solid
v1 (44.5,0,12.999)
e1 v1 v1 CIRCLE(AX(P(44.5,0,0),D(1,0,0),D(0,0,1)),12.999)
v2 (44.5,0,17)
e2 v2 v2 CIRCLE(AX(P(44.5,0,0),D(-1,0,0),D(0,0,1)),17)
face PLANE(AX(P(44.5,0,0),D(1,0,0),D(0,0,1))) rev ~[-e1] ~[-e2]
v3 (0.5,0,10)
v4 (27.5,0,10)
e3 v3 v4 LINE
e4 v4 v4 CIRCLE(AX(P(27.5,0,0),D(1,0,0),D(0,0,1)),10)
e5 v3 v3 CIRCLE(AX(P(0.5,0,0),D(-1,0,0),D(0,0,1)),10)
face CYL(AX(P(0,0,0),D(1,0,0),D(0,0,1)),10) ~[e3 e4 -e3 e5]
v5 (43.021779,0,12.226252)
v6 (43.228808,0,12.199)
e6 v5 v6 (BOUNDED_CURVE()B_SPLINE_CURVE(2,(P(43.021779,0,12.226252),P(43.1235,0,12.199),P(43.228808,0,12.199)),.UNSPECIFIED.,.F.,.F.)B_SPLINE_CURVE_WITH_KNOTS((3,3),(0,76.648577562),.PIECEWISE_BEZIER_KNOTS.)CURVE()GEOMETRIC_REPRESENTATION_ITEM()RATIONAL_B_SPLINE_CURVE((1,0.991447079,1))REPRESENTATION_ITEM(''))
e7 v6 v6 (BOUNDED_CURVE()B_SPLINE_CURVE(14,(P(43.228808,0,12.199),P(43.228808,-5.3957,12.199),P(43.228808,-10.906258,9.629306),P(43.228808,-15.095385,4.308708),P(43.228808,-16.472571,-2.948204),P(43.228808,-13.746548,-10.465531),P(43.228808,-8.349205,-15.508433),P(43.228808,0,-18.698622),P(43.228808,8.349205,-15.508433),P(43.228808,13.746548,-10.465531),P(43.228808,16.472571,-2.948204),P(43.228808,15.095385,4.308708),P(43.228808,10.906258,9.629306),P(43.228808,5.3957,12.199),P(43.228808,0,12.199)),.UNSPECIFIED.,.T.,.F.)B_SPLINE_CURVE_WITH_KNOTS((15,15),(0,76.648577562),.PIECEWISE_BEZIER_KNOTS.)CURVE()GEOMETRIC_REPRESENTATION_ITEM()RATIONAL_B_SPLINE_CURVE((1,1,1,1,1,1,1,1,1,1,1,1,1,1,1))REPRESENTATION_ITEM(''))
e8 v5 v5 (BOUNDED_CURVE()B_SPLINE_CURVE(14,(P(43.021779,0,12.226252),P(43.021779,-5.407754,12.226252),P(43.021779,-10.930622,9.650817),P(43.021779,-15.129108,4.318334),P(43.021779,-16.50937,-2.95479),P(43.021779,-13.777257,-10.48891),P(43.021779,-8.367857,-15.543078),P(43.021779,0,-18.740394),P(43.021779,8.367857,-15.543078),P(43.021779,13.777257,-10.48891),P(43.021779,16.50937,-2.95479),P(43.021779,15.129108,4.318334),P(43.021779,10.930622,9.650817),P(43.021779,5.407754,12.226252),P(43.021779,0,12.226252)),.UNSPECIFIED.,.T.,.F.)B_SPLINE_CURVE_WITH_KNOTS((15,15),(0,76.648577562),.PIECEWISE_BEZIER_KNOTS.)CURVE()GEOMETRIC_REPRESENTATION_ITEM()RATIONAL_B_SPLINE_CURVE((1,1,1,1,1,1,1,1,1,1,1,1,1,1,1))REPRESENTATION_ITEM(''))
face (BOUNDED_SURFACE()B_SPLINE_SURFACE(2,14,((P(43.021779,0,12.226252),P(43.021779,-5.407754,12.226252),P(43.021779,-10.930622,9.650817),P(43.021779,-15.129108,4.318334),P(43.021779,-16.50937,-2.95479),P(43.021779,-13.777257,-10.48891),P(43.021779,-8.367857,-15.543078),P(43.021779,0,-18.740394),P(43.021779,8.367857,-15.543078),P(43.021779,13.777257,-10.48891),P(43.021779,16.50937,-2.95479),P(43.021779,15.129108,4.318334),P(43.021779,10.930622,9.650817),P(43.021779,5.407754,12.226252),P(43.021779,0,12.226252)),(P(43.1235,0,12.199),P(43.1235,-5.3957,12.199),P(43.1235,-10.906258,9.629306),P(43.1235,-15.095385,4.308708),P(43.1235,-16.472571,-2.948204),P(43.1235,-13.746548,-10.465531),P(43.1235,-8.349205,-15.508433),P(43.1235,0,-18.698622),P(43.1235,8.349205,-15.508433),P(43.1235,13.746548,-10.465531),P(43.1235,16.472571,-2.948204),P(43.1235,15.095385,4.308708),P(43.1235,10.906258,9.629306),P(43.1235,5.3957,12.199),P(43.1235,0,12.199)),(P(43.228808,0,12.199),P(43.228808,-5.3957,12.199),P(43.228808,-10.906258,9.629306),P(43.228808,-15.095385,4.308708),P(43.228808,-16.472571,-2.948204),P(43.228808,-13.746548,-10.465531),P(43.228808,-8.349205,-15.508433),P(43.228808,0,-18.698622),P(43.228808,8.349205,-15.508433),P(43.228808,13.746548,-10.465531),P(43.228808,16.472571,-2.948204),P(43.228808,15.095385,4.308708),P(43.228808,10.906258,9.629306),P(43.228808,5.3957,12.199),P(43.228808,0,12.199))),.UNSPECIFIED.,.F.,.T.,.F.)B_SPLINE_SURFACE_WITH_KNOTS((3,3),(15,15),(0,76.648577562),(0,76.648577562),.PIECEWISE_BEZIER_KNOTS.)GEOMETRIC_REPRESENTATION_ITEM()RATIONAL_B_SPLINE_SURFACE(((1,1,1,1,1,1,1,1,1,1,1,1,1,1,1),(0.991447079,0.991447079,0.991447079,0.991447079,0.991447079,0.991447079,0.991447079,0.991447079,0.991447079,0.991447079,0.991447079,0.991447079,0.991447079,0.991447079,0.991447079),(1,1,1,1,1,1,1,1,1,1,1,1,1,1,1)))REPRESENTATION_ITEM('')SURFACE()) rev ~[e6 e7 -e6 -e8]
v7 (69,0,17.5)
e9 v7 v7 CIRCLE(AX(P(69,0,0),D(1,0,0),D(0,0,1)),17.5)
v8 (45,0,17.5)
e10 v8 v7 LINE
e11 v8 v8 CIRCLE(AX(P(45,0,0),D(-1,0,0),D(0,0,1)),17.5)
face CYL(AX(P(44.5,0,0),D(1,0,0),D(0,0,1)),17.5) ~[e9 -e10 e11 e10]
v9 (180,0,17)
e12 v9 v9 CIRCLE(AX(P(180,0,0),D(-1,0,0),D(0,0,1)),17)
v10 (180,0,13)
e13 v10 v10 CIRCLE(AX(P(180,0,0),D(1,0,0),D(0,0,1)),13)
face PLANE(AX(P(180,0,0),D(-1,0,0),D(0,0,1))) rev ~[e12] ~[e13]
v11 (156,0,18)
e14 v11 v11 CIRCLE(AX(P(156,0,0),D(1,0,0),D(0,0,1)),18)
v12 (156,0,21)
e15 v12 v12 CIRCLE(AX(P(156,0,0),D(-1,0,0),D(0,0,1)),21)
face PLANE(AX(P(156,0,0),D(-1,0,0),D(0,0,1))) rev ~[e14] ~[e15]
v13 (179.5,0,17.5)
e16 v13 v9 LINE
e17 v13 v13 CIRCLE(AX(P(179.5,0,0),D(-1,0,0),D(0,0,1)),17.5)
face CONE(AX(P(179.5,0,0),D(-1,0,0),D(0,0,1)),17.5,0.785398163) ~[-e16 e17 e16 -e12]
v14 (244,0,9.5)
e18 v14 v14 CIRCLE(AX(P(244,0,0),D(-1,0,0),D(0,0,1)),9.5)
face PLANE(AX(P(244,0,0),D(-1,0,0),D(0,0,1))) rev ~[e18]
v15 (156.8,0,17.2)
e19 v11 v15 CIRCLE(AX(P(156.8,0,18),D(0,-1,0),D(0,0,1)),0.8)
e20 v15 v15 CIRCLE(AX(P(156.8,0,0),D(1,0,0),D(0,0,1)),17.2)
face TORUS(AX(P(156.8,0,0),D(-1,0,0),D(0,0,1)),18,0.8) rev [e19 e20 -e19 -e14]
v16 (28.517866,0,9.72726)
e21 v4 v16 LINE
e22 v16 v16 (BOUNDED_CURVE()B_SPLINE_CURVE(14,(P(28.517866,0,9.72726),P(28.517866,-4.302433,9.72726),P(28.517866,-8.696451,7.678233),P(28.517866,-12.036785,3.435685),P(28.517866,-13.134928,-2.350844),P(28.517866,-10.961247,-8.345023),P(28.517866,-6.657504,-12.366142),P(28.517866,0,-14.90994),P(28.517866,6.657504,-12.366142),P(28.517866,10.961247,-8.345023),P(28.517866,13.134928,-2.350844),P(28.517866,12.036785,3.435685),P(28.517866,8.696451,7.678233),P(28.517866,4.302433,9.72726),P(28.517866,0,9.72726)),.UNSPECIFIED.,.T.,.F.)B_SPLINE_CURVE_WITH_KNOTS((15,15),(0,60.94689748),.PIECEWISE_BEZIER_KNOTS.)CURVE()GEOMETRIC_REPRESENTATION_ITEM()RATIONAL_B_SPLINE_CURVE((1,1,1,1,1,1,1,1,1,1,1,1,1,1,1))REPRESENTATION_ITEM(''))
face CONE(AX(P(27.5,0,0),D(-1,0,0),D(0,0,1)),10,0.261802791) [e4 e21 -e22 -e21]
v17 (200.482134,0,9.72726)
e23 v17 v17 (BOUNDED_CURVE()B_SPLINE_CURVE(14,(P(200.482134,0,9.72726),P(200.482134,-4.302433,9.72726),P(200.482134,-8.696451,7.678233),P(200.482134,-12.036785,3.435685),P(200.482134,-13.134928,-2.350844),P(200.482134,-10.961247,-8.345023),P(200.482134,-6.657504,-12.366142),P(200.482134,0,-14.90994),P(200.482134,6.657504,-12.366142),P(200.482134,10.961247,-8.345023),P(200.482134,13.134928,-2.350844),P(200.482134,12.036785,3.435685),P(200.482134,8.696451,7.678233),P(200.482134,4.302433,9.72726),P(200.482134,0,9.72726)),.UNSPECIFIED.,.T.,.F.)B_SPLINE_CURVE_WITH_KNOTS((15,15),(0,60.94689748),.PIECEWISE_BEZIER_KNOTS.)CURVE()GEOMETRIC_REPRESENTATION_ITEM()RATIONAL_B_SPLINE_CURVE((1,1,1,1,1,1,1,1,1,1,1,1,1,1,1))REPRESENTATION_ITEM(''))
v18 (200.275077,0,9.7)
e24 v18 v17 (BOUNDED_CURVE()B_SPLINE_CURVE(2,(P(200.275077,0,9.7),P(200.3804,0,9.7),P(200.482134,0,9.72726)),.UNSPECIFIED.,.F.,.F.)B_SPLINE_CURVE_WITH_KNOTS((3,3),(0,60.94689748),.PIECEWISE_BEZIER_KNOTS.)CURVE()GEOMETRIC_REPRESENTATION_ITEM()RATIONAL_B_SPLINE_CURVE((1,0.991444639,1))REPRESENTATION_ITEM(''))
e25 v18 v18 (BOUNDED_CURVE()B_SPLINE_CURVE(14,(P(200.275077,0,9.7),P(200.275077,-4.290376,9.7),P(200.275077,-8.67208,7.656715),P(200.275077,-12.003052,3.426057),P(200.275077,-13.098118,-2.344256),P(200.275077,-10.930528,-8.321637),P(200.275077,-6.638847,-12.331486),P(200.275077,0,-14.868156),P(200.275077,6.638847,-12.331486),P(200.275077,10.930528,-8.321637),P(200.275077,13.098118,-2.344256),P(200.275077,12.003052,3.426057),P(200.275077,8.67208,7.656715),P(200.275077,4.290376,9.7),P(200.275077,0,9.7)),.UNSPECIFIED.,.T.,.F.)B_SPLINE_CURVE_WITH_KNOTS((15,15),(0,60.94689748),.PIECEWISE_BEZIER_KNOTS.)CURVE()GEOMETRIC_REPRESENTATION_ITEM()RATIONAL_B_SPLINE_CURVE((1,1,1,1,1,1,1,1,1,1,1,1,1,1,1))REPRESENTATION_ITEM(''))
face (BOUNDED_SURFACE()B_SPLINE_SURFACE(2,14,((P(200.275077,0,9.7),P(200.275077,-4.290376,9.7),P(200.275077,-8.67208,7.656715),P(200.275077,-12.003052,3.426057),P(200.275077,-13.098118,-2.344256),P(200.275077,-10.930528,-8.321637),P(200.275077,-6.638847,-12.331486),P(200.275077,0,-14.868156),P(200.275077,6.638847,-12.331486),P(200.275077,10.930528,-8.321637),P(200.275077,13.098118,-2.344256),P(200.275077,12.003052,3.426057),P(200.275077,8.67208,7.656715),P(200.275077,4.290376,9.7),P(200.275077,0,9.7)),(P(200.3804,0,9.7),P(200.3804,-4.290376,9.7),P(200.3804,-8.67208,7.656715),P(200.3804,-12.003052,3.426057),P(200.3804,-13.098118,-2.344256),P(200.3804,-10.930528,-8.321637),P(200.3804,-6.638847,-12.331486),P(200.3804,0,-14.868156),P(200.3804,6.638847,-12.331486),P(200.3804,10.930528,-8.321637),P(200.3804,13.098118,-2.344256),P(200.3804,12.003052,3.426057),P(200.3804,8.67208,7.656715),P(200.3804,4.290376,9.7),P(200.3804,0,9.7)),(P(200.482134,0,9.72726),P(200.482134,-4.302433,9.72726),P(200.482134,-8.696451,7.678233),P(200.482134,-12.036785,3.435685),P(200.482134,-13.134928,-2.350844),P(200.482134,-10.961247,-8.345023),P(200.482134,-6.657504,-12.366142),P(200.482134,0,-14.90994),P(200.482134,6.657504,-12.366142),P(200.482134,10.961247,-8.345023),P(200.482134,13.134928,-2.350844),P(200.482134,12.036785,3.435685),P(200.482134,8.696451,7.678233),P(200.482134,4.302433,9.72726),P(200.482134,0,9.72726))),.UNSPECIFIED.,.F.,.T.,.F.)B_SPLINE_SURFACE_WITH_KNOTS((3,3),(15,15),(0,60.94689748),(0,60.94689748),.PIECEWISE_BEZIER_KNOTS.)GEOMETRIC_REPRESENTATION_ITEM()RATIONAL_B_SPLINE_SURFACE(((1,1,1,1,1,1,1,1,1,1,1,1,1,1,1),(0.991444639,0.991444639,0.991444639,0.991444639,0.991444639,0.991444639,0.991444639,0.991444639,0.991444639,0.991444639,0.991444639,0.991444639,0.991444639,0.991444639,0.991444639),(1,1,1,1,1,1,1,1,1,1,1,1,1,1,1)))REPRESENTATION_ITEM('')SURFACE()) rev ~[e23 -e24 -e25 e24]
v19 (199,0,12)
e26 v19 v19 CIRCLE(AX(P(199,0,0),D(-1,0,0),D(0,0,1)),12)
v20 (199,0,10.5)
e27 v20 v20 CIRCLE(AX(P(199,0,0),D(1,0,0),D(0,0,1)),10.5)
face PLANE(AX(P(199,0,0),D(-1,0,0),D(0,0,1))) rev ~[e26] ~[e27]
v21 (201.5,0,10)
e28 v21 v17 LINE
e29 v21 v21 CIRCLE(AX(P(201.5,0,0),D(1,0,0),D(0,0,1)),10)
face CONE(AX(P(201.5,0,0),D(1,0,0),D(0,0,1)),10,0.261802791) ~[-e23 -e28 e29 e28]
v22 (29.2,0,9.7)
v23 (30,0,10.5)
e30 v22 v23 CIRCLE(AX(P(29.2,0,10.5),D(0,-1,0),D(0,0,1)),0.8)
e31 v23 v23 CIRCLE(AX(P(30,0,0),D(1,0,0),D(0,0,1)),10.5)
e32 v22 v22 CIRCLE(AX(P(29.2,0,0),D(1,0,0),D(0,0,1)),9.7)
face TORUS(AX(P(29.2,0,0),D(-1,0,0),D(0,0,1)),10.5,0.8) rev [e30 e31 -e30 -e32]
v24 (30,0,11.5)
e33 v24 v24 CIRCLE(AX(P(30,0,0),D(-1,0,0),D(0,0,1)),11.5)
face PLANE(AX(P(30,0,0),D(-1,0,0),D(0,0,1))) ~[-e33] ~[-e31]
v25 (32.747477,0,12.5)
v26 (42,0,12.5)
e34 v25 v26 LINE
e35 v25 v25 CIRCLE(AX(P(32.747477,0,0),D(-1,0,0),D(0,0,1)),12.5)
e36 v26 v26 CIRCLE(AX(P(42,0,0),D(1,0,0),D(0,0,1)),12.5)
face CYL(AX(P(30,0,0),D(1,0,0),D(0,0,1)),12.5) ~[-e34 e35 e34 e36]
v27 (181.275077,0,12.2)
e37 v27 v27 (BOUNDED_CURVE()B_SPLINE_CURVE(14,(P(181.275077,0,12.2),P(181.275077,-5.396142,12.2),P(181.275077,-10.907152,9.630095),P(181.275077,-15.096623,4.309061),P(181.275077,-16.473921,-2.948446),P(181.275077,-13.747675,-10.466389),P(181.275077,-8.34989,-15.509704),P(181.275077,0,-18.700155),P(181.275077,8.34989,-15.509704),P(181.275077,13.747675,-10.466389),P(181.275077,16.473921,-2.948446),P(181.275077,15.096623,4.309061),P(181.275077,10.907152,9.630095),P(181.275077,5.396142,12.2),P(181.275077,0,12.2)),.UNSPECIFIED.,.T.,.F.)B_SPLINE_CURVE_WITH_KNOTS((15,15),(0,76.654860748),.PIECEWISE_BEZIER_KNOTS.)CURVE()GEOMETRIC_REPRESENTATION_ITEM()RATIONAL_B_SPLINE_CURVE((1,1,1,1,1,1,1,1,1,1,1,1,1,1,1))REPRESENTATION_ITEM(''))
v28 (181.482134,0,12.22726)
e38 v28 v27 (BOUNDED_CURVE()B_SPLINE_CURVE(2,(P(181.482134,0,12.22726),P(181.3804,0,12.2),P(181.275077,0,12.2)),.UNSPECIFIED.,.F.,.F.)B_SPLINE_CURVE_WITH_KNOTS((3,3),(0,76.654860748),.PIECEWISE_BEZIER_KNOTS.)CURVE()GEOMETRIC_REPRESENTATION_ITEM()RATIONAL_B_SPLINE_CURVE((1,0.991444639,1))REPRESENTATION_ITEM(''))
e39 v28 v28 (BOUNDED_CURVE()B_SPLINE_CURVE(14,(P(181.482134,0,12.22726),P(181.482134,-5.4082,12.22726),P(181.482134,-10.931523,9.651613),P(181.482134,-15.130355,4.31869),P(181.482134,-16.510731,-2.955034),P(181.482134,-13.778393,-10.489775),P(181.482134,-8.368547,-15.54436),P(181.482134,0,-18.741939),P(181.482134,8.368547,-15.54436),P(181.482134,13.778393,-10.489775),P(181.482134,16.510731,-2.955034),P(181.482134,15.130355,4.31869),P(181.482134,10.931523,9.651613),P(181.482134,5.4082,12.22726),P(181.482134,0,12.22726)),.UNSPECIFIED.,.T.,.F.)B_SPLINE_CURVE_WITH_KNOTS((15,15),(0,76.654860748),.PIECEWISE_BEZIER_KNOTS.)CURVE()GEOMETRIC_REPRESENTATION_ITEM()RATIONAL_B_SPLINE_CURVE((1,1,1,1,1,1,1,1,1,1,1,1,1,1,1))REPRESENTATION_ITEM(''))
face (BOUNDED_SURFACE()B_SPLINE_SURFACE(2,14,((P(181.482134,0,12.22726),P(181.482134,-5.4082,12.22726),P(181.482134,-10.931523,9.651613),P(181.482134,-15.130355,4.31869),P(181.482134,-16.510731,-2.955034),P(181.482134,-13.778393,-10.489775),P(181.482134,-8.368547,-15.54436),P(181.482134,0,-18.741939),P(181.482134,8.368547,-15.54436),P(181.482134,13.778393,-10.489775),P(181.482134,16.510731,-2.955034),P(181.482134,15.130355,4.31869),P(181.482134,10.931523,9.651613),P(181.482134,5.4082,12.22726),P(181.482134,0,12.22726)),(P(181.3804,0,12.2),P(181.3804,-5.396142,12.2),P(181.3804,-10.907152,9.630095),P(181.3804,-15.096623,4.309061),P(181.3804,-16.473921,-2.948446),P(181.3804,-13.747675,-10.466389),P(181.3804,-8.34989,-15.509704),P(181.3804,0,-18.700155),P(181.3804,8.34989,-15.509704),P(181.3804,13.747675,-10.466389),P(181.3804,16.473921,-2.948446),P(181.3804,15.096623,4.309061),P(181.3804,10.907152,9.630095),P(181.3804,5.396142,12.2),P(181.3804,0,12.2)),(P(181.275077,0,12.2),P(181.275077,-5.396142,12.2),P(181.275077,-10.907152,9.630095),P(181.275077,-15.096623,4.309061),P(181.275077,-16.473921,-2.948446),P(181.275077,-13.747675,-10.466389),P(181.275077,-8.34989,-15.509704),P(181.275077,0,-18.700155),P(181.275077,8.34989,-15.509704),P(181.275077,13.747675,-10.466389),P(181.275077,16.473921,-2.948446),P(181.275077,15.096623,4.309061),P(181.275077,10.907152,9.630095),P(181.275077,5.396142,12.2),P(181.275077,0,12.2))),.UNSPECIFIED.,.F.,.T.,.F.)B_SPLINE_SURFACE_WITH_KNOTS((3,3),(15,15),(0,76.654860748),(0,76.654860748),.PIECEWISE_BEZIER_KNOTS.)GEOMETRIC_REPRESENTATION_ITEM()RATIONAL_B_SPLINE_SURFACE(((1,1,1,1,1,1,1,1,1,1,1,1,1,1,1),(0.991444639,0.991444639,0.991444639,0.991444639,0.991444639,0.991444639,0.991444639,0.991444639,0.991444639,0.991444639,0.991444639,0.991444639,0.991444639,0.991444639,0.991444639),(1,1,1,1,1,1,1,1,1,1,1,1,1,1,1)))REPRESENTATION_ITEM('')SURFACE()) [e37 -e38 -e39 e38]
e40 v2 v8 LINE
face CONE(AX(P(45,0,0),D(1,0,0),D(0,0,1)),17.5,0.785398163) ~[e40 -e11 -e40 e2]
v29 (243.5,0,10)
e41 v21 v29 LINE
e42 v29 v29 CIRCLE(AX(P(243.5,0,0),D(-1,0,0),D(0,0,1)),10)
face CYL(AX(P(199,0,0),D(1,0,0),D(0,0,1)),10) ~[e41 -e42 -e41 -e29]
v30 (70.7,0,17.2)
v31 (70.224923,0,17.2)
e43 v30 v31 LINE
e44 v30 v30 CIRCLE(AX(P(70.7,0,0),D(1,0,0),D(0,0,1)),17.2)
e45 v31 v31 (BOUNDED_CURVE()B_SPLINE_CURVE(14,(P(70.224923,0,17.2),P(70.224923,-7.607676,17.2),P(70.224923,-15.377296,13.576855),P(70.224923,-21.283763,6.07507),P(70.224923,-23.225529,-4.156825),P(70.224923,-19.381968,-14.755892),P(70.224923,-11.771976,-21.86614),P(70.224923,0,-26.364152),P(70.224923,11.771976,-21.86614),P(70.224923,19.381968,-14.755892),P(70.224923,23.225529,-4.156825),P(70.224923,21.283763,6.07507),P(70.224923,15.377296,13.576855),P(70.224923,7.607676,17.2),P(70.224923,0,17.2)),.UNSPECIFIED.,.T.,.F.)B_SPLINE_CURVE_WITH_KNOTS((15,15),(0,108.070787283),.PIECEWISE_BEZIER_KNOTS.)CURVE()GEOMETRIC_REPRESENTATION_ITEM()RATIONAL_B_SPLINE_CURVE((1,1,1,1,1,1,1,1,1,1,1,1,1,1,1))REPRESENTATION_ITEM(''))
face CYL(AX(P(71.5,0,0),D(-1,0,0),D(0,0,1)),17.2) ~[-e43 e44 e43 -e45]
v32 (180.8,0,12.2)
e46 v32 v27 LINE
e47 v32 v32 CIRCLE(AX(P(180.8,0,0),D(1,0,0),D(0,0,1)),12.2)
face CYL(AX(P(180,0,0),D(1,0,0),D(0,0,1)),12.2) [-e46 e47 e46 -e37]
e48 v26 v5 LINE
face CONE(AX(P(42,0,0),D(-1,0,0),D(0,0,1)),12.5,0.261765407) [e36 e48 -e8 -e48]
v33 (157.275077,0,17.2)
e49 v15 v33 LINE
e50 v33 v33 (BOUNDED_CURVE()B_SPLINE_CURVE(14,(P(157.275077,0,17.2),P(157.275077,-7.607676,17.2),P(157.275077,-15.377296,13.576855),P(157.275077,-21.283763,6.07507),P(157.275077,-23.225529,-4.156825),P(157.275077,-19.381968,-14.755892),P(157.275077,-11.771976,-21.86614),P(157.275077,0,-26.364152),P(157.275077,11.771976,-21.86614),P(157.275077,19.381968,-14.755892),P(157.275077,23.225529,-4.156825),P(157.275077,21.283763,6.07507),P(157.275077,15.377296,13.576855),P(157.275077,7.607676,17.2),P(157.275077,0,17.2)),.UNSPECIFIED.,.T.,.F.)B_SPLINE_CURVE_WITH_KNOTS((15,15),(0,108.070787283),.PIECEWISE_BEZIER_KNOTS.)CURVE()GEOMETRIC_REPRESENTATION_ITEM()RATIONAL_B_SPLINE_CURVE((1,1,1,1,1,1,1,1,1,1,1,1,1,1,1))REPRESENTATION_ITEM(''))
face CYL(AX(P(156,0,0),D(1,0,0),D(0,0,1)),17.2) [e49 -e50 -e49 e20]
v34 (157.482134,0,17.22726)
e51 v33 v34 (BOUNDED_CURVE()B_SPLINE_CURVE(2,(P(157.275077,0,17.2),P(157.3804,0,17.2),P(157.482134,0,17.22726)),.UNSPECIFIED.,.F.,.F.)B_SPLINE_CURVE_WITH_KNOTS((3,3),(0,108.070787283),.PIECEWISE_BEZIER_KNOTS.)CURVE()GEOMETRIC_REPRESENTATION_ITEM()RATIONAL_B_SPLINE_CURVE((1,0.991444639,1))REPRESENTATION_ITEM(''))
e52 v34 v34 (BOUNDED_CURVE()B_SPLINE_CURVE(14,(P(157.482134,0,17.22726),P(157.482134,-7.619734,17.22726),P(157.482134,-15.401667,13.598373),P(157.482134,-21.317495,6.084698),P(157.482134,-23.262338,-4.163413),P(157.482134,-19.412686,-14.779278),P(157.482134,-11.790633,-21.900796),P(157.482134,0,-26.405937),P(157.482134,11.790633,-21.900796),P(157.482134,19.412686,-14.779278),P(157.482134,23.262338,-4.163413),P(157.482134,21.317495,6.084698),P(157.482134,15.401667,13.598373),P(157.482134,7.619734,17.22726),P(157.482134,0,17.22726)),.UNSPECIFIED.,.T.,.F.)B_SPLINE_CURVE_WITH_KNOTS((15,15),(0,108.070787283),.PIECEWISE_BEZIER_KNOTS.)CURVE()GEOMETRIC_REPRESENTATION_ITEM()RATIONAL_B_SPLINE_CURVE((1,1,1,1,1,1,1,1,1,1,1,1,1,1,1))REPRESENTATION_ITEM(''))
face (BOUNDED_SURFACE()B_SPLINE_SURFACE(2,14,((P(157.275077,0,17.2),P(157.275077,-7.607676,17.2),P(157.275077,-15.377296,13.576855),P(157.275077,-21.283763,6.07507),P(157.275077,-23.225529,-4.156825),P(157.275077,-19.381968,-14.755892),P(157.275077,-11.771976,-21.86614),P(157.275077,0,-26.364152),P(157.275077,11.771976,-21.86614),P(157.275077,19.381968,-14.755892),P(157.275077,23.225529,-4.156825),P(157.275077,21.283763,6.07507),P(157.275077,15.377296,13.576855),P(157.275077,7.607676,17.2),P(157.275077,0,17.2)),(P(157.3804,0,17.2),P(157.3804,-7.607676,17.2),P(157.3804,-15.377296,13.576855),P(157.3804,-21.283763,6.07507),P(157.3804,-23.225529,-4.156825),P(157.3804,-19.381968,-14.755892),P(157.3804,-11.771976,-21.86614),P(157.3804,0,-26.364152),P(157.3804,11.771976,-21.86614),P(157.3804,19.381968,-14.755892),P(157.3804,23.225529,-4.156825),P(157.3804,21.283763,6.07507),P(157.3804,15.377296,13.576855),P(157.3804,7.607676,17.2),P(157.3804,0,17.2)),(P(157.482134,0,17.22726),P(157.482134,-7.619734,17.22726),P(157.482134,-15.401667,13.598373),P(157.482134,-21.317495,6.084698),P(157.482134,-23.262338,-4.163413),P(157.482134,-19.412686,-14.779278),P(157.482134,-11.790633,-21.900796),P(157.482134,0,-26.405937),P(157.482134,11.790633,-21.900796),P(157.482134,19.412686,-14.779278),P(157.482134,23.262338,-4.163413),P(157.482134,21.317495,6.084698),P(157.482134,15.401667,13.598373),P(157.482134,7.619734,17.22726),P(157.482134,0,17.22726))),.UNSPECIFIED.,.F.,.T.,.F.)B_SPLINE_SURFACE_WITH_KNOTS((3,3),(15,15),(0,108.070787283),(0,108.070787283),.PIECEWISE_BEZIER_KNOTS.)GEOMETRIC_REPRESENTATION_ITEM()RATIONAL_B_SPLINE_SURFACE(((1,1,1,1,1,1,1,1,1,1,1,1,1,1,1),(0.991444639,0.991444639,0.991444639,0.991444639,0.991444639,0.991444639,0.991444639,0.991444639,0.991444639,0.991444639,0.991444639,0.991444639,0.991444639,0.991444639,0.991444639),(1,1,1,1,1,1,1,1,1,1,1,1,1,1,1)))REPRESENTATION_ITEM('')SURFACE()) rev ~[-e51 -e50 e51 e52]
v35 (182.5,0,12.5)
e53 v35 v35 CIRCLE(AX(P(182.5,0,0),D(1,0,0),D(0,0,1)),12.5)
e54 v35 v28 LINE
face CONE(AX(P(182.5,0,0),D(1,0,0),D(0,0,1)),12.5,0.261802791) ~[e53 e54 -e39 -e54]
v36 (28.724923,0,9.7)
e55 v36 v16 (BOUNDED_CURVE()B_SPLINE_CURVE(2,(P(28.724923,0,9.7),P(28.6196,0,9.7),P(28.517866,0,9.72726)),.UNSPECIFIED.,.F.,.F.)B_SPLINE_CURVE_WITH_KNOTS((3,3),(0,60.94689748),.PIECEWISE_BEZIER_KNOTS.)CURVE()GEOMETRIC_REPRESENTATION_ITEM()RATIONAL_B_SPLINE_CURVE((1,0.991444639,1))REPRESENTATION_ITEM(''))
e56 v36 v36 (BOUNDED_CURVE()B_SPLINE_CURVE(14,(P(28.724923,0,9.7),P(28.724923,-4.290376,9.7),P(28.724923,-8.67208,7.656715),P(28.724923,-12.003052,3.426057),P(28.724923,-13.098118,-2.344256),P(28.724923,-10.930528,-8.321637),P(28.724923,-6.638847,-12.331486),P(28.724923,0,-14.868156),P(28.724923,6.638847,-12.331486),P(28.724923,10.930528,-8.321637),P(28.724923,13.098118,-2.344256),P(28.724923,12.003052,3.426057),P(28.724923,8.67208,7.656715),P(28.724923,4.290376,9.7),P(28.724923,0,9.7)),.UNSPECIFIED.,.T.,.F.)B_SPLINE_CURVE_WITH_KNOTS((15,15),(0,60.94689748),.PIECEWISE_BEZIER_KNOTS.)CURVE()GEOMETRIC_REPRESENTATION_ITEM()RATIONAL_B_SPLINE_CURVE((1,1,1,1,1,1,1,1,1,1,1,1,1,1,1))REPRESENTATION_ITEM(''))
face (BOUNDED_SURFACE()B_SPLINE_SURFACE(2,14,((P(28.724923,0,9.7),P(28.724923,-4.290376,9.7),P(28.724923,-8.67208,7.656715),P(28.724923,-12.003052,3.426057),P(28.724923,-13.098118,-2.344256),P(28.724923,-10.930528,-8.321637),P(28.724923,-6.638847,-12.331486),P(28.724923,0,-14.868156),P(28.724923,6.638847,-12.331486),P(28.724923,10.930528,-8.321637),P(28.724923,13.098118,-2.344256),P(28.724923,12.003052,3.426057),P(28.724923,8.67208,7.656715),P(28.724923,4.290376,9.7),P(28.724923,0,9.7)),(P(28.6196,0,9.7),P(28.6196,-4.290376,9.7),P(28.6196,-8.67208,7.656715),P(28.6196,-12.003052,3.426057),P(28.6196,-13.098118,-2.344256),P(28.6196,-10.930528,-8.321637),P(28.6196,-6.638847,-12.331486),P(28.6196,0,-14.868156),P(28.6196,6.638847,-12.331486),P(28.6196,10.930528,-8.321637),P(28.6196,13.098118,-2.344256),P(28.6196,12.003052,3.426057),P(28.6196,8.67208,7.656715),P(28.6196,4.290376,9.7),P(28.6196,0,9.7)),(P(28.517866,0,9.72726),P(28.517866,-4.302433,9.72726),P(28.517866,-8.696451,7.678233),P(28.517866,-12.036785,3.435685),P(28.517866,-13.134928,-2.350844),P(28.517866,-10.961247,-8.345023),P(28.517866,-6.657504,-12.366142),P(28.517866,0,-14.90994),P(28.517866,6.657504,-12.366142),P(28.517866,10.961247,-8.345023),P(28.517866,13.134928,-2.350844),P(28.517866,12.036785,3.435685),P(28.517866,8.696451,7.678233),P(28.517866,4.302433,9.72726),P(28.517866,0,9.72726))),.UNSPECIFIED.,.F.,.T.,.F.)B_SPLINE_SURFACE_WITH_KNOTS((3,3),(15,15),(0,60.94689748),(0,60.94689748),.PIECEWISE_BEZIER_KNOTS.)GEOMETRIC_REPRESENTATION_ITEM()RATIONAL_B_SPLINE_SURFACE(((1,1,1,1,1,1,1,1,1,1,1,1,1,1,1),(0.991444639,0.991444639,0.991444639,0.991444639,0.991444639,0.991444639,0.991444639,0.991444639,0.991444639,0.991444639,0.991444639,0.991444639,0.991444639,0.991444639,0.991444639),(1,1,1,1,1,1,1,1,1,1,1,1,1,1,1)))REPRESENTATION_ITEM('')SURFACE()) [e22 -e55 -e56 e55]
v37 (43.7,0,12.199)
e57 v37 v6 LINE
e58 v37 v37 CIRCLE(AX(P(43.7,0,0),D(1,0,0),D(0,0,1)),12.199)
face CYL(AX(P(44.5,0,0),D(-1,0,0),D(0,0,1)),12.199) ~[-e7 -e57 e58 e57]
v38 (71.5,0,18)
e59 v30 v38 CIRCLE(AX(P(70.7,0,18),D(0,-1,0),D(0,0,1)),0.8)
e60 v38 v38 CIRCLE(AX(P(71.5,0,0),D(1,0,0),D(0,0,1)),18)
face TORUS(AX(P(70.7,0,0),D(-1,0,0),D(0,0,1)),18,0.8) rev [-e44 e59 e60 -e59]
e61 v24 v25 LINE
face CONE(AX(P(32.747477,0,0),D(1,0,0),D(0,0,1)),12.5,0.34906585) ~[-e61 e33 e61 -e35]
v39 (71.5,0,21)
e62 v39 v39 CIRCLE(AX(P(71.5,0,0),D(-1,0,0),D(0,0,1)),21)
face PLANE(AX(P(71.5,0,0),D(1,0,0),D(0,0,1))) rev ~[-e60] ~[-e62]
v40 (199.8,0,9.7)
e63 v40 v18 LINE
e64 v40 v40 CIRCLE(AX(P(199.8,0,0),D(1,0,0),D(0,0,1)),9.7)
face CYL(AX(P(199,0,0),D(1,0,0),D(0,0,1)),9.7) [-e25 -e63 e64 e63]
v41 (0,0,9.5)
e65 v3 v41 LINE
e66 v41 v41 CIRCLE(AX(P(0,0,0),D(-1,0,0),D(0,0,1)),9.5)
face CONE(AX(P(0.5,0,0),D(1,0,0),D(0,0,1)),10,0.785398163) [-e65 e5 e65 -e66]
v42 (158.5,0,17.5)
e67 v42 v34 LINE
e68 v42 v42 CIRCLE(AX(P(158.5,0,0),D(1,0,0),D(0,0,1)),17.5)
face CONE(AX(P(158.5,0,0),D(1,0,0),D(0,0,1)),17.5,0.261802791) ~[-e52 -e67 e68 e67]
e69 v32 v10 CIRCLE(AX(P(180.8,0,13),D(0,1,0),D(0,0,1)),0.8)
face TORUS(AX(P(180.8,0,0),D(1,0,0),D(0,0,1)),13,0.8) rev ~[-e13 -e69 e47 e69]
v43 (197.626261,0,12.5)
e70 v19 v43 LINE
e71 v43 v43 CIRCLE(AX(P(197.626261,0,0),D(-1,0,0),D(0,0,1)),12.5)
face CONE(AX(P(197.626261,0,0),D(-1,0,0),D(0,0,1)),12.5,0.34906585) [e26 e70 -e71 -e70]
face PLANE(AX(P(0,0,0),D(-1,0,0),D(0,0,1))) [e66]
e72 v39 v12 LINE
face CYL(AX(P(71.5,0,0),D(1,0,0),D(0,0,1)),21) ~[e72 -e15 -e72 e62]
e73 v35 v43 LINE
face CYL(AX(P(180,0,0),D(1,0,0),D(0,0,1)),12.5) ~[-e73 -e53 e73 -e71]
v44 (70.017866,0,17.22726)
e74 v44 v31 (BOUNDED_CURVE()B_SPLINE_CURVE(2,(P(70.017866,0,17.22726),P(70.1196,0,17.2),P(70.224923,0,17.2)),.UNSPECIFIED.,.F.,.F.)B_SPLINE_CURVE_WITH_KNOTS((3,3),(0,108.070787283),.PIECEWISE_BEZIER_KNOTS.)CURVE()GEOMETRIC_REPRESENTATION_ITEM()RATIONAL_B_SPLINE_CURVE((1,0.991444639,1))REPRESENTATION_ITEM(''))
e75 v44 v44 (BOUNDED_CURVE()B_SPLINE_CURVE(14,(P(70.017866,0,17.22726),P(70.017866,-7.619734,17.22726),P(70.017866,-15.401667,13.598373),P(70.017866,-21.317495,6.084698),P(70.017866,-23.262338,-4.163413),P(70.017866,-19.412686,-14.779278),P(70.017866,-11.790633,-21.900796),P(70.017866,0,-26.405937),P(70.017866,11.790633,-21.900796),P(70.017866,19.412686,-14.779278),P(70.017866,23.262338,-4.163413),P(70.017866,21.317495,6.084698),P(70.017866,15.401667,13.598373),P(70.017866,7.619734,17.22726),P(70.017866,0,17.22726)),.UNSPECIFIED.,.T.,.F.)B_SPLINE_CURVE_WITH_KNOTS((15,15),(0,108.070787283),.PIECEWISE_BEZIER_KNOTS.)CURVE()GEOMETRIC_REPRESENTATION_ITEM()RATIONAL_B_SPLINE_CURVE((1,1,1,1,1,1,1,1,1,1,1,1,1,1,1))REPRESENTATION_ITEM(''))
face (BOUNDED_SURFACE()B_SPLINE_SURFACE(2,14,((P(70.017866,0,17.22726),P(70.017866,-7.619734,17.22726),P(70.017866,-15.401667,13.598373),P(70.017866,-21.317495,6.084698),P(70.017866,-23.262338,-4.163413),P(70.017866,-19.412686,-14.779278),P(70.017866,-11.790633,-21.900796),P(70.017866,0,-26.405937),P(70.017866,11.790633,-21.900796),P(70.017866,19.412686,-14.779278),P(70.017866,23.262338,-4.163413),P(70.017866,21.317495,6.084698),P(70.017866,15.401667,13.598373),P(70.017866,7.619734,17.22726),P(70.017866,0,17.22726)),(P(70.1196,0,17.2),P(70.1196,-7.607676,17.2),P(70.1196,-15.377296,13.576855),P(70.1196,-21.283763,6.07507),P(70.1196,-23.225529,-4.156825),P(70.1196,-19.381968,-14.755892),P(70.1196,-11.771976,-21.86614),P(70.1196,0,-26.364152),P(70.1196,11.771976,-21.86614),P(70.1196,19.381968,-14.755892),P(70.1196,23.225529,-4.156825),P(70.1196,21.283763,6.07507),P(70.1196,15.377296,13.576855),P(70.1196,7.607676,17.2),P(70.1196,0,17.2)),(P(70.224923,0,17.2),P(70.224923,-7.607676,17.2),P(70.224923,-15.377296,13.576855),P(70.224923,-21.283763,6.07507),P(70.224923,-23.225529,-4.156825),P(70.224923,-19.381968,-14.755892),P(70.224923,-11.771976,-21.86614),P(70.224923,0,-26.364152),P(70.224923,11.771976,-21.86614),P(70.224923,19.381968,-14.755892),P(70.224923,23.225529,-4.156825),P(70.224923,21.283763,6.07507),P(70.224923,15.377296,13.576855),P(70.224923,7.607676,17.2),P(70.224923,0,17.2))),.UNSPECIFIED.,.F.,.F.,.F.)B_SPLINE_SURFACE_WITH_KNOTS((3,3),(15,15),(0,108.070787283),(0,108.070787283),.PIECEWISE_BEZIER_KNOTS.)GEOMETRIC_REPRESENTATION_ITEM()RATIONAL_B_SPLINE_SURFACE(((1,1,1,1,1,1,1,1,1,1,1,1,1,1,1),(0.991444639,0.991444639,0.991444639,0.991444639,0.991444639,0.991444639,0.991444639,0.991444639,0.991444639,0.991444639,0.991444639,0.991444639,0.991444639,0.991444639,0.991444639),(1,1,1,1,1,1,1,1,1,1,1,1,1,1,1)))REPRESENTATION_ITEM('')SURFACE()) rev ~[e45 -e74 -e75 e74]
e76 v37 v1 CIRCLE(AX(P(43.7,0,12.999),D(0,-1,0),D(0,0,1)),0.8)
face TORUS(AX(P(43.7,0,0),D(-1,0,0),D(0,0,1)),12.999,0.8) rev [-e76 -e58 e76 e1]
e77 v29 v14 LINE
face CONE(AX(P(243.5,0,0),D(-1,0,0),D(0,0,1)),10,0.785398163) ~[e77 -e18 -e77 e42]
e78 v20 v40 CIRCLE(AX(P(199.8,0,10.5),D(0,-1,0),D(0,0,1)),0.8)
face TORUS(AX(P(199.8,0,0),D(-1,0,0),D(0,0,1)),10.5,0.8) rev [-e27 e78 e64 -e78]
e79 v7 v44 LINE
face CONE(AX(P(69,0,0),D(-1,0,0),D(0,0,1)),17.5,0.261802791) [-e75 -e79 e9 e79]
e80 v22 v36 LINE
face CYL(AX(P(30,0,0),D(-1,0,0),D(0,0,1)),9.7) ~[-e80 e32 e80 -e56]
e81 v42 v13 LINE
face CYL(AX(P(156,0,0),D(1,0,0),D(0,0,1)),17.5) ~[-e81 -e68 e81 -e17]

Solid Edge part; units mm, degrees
sketch "Sketch1" plane through (0, 0, 0) normal (0, -1, 0) x (1, 0, 0)
  line L0 (0, 10) -> (30, 10)
  line L1 (30, 10) -> (30, 12.5)
  line L2 (30, 12.5) -> (44.5, 12.5)
  line L3 (44.5, 12.5) -> (44.5, 17.5)
  line L4 (44.5, 17.5) -> (71.5, 17.5)
  line L5 (71.5, 17.5) -> (71.5, 21)
  line L6 (71.5, 21) -> (156, 21)
  line L7 (156, 21) -> (156, 17.5)
  line L8 (156, 17.5) -> (180, 17.5)
  line L9 (180, 17.5) -> (180, 12.5)
  line L10 (180, 12.5) -> (199, 12.5)
  line L11 (199, 12.5) -> (199, 10)
  line L12 (199, 10) -> (244, 10)
  line L13 (244, 10) -> (244, 0)
  line L14 (244, 0) -> (0, 0)
  line L15 (0, 10) -> (0, 0)
revolve "RevolvedProtrusion1" add sketch "Sketch1" angle 360 about axis through (244, 0, 0) along (-1, 0, 0)
chamfer "Chamfer1" distance 0.5 angle 45 1 edges at (0, 0, -10)
chamfer "Chamfer_3" distance 1 angle 70 1 edges at (30, 0, -12.5) measured on face at (30, -8.0833, 8.5833)
chamfer "Chamfer_4" distance 0.5 angle 45 1 edges at (44.5, 0, -17.5)
chamfer "Chamfer_5" distance 0.5 angle 45 2 edges at (244, 0, -10) (180, 0, -17.5)
chamfer "Chamfer_6" distance 0.5 angle 70 1 edges at (199, 0, -12.5) measured on face at (199, -8.0833, -8.5833)
sketch "Sketch2" plane through (0, 0, 0) normal (0, -1, 0) x (1, 0, 0)
  line L0 (27.5, 10) -> (28.6196, 9.7)
  line L1 (30, 9.7) -> (28.6196, 9.7)
  line L2 (30, 10) -> (30, 9.7)
revolve "RevolvedCutout1" cut sketch "Sketch2" angle 360 about axis through (0, 0, 0) along (1, 0, 0) material side at (28.0727, 0, 9.8983)
fillet "Round_1" radius 0.8 1 edges at (28.6196, 0, -9.7)
fillet "Round_2" radius 0.8 1 edges at (30, 0, -9.7)
sketch "Sketch3" plane through (0, 0, 0) normal (0, -1, 0) x (1, 0, 0)
  line L0 (42, 12.5) -> (43.1235, 12.199)
  line L1 (44.5, 12.199) -> (43.1235, 12.199)
  line L2 (44.5, 12.5) -> (44.5, 12.199)
revolve "RevolvedCutout2" cut sketch "Sketch3" angle 360 about axis through (0, 0, 0) along (1, 0, 0) material side at (42.5747, 0, 12.3978)
fillet "Round_3" radius 0.8 2 edges at (43.1235, 0, -12.199) (44.5, 0, -12.199)
sketch "Sketch4" plane through (0, 0, 0) normal (0, -1, 0) x (1, 0, 0)
  line L0 (69, 17.5) -> (70.1196, 17.2)
  line L1 (71.5, 17.2) -> (70.1196, 17.2)
  line L2 (71.5, 17.5) -> (71.5, 17.2)
revolve "RevolvedCutout3" cut sketch "Sketch4" angle 360 about axis through (0, 0, 0) along (1, 0, 0) material side at (69.5727, 0, 17.3983)
fillet "Round_4" radius 0.8 2 edges at (70.1196, 0, -17.2) (71.5, 0, -17.2)
sketch "Sketch5" plane through (0, 0, 0) normal (0, -1, 0) x (1, 0, 0)
  line L0 (158.5, 17.5) -> (157.3804, 17.2)
  line L1 (156, 17.2) -> (157.3804, 17.2)
  line L2 (156, 17.5) -> (156, 17.2)
revolve "RevolvedCutout4" cut sketch "Sketch5" angle 360 about axis through (0, 0, 0) along (1, 0, 0) material side at (157.9273, 0, 17.3983)
fillet "Round_5" radius 0.8 2 edges at (157.3804, 0, -17.2) (156, 0, -17.2)
sketch "Sketch6" plane through (0, 0, 0) normal (0, -1, 0) x (1, 0, 0)
  line L0 (182.5, 12.5) -> (181.3804, 12.2)
  line L1 (180, 12.2) -> (181.3804, 12.2)
  line L2 (180, 12.5) -> (180, 12.2)
revolve "RevolvedCutout5" cut sketch "Sketch6" angle 360 about axis through (0, 0, 0) along (1, 0, 0) material side at (181.9273, 0, 12.3983)
sketch "Sketch7" plane through (0, 0, 0) normal (0, -1, 0) x (1, 0, 0)
  line L0 (201.5, 10) -> (200.3804, 9.7)
  line L1 (199, 9.7) -> (200.3804, 9.7)
  line L2 (199, 10) -> (199, 9.7)
revolve "RevolvedCutout6" cut sketch "Sketch7" angle 360 about axis through (0, 0, 0) along (1, 0, 0) material side at (200.9273, 0, 9.8983)
fillet "Round_8" radius 0.8 2 edges at (200.3804, 0, -9.7) (199, 0, -9.7)
fillet "Round_9" radius 0.8 2 edges at (181.3804, 0, -12.2) (180, 0, -12.2)
